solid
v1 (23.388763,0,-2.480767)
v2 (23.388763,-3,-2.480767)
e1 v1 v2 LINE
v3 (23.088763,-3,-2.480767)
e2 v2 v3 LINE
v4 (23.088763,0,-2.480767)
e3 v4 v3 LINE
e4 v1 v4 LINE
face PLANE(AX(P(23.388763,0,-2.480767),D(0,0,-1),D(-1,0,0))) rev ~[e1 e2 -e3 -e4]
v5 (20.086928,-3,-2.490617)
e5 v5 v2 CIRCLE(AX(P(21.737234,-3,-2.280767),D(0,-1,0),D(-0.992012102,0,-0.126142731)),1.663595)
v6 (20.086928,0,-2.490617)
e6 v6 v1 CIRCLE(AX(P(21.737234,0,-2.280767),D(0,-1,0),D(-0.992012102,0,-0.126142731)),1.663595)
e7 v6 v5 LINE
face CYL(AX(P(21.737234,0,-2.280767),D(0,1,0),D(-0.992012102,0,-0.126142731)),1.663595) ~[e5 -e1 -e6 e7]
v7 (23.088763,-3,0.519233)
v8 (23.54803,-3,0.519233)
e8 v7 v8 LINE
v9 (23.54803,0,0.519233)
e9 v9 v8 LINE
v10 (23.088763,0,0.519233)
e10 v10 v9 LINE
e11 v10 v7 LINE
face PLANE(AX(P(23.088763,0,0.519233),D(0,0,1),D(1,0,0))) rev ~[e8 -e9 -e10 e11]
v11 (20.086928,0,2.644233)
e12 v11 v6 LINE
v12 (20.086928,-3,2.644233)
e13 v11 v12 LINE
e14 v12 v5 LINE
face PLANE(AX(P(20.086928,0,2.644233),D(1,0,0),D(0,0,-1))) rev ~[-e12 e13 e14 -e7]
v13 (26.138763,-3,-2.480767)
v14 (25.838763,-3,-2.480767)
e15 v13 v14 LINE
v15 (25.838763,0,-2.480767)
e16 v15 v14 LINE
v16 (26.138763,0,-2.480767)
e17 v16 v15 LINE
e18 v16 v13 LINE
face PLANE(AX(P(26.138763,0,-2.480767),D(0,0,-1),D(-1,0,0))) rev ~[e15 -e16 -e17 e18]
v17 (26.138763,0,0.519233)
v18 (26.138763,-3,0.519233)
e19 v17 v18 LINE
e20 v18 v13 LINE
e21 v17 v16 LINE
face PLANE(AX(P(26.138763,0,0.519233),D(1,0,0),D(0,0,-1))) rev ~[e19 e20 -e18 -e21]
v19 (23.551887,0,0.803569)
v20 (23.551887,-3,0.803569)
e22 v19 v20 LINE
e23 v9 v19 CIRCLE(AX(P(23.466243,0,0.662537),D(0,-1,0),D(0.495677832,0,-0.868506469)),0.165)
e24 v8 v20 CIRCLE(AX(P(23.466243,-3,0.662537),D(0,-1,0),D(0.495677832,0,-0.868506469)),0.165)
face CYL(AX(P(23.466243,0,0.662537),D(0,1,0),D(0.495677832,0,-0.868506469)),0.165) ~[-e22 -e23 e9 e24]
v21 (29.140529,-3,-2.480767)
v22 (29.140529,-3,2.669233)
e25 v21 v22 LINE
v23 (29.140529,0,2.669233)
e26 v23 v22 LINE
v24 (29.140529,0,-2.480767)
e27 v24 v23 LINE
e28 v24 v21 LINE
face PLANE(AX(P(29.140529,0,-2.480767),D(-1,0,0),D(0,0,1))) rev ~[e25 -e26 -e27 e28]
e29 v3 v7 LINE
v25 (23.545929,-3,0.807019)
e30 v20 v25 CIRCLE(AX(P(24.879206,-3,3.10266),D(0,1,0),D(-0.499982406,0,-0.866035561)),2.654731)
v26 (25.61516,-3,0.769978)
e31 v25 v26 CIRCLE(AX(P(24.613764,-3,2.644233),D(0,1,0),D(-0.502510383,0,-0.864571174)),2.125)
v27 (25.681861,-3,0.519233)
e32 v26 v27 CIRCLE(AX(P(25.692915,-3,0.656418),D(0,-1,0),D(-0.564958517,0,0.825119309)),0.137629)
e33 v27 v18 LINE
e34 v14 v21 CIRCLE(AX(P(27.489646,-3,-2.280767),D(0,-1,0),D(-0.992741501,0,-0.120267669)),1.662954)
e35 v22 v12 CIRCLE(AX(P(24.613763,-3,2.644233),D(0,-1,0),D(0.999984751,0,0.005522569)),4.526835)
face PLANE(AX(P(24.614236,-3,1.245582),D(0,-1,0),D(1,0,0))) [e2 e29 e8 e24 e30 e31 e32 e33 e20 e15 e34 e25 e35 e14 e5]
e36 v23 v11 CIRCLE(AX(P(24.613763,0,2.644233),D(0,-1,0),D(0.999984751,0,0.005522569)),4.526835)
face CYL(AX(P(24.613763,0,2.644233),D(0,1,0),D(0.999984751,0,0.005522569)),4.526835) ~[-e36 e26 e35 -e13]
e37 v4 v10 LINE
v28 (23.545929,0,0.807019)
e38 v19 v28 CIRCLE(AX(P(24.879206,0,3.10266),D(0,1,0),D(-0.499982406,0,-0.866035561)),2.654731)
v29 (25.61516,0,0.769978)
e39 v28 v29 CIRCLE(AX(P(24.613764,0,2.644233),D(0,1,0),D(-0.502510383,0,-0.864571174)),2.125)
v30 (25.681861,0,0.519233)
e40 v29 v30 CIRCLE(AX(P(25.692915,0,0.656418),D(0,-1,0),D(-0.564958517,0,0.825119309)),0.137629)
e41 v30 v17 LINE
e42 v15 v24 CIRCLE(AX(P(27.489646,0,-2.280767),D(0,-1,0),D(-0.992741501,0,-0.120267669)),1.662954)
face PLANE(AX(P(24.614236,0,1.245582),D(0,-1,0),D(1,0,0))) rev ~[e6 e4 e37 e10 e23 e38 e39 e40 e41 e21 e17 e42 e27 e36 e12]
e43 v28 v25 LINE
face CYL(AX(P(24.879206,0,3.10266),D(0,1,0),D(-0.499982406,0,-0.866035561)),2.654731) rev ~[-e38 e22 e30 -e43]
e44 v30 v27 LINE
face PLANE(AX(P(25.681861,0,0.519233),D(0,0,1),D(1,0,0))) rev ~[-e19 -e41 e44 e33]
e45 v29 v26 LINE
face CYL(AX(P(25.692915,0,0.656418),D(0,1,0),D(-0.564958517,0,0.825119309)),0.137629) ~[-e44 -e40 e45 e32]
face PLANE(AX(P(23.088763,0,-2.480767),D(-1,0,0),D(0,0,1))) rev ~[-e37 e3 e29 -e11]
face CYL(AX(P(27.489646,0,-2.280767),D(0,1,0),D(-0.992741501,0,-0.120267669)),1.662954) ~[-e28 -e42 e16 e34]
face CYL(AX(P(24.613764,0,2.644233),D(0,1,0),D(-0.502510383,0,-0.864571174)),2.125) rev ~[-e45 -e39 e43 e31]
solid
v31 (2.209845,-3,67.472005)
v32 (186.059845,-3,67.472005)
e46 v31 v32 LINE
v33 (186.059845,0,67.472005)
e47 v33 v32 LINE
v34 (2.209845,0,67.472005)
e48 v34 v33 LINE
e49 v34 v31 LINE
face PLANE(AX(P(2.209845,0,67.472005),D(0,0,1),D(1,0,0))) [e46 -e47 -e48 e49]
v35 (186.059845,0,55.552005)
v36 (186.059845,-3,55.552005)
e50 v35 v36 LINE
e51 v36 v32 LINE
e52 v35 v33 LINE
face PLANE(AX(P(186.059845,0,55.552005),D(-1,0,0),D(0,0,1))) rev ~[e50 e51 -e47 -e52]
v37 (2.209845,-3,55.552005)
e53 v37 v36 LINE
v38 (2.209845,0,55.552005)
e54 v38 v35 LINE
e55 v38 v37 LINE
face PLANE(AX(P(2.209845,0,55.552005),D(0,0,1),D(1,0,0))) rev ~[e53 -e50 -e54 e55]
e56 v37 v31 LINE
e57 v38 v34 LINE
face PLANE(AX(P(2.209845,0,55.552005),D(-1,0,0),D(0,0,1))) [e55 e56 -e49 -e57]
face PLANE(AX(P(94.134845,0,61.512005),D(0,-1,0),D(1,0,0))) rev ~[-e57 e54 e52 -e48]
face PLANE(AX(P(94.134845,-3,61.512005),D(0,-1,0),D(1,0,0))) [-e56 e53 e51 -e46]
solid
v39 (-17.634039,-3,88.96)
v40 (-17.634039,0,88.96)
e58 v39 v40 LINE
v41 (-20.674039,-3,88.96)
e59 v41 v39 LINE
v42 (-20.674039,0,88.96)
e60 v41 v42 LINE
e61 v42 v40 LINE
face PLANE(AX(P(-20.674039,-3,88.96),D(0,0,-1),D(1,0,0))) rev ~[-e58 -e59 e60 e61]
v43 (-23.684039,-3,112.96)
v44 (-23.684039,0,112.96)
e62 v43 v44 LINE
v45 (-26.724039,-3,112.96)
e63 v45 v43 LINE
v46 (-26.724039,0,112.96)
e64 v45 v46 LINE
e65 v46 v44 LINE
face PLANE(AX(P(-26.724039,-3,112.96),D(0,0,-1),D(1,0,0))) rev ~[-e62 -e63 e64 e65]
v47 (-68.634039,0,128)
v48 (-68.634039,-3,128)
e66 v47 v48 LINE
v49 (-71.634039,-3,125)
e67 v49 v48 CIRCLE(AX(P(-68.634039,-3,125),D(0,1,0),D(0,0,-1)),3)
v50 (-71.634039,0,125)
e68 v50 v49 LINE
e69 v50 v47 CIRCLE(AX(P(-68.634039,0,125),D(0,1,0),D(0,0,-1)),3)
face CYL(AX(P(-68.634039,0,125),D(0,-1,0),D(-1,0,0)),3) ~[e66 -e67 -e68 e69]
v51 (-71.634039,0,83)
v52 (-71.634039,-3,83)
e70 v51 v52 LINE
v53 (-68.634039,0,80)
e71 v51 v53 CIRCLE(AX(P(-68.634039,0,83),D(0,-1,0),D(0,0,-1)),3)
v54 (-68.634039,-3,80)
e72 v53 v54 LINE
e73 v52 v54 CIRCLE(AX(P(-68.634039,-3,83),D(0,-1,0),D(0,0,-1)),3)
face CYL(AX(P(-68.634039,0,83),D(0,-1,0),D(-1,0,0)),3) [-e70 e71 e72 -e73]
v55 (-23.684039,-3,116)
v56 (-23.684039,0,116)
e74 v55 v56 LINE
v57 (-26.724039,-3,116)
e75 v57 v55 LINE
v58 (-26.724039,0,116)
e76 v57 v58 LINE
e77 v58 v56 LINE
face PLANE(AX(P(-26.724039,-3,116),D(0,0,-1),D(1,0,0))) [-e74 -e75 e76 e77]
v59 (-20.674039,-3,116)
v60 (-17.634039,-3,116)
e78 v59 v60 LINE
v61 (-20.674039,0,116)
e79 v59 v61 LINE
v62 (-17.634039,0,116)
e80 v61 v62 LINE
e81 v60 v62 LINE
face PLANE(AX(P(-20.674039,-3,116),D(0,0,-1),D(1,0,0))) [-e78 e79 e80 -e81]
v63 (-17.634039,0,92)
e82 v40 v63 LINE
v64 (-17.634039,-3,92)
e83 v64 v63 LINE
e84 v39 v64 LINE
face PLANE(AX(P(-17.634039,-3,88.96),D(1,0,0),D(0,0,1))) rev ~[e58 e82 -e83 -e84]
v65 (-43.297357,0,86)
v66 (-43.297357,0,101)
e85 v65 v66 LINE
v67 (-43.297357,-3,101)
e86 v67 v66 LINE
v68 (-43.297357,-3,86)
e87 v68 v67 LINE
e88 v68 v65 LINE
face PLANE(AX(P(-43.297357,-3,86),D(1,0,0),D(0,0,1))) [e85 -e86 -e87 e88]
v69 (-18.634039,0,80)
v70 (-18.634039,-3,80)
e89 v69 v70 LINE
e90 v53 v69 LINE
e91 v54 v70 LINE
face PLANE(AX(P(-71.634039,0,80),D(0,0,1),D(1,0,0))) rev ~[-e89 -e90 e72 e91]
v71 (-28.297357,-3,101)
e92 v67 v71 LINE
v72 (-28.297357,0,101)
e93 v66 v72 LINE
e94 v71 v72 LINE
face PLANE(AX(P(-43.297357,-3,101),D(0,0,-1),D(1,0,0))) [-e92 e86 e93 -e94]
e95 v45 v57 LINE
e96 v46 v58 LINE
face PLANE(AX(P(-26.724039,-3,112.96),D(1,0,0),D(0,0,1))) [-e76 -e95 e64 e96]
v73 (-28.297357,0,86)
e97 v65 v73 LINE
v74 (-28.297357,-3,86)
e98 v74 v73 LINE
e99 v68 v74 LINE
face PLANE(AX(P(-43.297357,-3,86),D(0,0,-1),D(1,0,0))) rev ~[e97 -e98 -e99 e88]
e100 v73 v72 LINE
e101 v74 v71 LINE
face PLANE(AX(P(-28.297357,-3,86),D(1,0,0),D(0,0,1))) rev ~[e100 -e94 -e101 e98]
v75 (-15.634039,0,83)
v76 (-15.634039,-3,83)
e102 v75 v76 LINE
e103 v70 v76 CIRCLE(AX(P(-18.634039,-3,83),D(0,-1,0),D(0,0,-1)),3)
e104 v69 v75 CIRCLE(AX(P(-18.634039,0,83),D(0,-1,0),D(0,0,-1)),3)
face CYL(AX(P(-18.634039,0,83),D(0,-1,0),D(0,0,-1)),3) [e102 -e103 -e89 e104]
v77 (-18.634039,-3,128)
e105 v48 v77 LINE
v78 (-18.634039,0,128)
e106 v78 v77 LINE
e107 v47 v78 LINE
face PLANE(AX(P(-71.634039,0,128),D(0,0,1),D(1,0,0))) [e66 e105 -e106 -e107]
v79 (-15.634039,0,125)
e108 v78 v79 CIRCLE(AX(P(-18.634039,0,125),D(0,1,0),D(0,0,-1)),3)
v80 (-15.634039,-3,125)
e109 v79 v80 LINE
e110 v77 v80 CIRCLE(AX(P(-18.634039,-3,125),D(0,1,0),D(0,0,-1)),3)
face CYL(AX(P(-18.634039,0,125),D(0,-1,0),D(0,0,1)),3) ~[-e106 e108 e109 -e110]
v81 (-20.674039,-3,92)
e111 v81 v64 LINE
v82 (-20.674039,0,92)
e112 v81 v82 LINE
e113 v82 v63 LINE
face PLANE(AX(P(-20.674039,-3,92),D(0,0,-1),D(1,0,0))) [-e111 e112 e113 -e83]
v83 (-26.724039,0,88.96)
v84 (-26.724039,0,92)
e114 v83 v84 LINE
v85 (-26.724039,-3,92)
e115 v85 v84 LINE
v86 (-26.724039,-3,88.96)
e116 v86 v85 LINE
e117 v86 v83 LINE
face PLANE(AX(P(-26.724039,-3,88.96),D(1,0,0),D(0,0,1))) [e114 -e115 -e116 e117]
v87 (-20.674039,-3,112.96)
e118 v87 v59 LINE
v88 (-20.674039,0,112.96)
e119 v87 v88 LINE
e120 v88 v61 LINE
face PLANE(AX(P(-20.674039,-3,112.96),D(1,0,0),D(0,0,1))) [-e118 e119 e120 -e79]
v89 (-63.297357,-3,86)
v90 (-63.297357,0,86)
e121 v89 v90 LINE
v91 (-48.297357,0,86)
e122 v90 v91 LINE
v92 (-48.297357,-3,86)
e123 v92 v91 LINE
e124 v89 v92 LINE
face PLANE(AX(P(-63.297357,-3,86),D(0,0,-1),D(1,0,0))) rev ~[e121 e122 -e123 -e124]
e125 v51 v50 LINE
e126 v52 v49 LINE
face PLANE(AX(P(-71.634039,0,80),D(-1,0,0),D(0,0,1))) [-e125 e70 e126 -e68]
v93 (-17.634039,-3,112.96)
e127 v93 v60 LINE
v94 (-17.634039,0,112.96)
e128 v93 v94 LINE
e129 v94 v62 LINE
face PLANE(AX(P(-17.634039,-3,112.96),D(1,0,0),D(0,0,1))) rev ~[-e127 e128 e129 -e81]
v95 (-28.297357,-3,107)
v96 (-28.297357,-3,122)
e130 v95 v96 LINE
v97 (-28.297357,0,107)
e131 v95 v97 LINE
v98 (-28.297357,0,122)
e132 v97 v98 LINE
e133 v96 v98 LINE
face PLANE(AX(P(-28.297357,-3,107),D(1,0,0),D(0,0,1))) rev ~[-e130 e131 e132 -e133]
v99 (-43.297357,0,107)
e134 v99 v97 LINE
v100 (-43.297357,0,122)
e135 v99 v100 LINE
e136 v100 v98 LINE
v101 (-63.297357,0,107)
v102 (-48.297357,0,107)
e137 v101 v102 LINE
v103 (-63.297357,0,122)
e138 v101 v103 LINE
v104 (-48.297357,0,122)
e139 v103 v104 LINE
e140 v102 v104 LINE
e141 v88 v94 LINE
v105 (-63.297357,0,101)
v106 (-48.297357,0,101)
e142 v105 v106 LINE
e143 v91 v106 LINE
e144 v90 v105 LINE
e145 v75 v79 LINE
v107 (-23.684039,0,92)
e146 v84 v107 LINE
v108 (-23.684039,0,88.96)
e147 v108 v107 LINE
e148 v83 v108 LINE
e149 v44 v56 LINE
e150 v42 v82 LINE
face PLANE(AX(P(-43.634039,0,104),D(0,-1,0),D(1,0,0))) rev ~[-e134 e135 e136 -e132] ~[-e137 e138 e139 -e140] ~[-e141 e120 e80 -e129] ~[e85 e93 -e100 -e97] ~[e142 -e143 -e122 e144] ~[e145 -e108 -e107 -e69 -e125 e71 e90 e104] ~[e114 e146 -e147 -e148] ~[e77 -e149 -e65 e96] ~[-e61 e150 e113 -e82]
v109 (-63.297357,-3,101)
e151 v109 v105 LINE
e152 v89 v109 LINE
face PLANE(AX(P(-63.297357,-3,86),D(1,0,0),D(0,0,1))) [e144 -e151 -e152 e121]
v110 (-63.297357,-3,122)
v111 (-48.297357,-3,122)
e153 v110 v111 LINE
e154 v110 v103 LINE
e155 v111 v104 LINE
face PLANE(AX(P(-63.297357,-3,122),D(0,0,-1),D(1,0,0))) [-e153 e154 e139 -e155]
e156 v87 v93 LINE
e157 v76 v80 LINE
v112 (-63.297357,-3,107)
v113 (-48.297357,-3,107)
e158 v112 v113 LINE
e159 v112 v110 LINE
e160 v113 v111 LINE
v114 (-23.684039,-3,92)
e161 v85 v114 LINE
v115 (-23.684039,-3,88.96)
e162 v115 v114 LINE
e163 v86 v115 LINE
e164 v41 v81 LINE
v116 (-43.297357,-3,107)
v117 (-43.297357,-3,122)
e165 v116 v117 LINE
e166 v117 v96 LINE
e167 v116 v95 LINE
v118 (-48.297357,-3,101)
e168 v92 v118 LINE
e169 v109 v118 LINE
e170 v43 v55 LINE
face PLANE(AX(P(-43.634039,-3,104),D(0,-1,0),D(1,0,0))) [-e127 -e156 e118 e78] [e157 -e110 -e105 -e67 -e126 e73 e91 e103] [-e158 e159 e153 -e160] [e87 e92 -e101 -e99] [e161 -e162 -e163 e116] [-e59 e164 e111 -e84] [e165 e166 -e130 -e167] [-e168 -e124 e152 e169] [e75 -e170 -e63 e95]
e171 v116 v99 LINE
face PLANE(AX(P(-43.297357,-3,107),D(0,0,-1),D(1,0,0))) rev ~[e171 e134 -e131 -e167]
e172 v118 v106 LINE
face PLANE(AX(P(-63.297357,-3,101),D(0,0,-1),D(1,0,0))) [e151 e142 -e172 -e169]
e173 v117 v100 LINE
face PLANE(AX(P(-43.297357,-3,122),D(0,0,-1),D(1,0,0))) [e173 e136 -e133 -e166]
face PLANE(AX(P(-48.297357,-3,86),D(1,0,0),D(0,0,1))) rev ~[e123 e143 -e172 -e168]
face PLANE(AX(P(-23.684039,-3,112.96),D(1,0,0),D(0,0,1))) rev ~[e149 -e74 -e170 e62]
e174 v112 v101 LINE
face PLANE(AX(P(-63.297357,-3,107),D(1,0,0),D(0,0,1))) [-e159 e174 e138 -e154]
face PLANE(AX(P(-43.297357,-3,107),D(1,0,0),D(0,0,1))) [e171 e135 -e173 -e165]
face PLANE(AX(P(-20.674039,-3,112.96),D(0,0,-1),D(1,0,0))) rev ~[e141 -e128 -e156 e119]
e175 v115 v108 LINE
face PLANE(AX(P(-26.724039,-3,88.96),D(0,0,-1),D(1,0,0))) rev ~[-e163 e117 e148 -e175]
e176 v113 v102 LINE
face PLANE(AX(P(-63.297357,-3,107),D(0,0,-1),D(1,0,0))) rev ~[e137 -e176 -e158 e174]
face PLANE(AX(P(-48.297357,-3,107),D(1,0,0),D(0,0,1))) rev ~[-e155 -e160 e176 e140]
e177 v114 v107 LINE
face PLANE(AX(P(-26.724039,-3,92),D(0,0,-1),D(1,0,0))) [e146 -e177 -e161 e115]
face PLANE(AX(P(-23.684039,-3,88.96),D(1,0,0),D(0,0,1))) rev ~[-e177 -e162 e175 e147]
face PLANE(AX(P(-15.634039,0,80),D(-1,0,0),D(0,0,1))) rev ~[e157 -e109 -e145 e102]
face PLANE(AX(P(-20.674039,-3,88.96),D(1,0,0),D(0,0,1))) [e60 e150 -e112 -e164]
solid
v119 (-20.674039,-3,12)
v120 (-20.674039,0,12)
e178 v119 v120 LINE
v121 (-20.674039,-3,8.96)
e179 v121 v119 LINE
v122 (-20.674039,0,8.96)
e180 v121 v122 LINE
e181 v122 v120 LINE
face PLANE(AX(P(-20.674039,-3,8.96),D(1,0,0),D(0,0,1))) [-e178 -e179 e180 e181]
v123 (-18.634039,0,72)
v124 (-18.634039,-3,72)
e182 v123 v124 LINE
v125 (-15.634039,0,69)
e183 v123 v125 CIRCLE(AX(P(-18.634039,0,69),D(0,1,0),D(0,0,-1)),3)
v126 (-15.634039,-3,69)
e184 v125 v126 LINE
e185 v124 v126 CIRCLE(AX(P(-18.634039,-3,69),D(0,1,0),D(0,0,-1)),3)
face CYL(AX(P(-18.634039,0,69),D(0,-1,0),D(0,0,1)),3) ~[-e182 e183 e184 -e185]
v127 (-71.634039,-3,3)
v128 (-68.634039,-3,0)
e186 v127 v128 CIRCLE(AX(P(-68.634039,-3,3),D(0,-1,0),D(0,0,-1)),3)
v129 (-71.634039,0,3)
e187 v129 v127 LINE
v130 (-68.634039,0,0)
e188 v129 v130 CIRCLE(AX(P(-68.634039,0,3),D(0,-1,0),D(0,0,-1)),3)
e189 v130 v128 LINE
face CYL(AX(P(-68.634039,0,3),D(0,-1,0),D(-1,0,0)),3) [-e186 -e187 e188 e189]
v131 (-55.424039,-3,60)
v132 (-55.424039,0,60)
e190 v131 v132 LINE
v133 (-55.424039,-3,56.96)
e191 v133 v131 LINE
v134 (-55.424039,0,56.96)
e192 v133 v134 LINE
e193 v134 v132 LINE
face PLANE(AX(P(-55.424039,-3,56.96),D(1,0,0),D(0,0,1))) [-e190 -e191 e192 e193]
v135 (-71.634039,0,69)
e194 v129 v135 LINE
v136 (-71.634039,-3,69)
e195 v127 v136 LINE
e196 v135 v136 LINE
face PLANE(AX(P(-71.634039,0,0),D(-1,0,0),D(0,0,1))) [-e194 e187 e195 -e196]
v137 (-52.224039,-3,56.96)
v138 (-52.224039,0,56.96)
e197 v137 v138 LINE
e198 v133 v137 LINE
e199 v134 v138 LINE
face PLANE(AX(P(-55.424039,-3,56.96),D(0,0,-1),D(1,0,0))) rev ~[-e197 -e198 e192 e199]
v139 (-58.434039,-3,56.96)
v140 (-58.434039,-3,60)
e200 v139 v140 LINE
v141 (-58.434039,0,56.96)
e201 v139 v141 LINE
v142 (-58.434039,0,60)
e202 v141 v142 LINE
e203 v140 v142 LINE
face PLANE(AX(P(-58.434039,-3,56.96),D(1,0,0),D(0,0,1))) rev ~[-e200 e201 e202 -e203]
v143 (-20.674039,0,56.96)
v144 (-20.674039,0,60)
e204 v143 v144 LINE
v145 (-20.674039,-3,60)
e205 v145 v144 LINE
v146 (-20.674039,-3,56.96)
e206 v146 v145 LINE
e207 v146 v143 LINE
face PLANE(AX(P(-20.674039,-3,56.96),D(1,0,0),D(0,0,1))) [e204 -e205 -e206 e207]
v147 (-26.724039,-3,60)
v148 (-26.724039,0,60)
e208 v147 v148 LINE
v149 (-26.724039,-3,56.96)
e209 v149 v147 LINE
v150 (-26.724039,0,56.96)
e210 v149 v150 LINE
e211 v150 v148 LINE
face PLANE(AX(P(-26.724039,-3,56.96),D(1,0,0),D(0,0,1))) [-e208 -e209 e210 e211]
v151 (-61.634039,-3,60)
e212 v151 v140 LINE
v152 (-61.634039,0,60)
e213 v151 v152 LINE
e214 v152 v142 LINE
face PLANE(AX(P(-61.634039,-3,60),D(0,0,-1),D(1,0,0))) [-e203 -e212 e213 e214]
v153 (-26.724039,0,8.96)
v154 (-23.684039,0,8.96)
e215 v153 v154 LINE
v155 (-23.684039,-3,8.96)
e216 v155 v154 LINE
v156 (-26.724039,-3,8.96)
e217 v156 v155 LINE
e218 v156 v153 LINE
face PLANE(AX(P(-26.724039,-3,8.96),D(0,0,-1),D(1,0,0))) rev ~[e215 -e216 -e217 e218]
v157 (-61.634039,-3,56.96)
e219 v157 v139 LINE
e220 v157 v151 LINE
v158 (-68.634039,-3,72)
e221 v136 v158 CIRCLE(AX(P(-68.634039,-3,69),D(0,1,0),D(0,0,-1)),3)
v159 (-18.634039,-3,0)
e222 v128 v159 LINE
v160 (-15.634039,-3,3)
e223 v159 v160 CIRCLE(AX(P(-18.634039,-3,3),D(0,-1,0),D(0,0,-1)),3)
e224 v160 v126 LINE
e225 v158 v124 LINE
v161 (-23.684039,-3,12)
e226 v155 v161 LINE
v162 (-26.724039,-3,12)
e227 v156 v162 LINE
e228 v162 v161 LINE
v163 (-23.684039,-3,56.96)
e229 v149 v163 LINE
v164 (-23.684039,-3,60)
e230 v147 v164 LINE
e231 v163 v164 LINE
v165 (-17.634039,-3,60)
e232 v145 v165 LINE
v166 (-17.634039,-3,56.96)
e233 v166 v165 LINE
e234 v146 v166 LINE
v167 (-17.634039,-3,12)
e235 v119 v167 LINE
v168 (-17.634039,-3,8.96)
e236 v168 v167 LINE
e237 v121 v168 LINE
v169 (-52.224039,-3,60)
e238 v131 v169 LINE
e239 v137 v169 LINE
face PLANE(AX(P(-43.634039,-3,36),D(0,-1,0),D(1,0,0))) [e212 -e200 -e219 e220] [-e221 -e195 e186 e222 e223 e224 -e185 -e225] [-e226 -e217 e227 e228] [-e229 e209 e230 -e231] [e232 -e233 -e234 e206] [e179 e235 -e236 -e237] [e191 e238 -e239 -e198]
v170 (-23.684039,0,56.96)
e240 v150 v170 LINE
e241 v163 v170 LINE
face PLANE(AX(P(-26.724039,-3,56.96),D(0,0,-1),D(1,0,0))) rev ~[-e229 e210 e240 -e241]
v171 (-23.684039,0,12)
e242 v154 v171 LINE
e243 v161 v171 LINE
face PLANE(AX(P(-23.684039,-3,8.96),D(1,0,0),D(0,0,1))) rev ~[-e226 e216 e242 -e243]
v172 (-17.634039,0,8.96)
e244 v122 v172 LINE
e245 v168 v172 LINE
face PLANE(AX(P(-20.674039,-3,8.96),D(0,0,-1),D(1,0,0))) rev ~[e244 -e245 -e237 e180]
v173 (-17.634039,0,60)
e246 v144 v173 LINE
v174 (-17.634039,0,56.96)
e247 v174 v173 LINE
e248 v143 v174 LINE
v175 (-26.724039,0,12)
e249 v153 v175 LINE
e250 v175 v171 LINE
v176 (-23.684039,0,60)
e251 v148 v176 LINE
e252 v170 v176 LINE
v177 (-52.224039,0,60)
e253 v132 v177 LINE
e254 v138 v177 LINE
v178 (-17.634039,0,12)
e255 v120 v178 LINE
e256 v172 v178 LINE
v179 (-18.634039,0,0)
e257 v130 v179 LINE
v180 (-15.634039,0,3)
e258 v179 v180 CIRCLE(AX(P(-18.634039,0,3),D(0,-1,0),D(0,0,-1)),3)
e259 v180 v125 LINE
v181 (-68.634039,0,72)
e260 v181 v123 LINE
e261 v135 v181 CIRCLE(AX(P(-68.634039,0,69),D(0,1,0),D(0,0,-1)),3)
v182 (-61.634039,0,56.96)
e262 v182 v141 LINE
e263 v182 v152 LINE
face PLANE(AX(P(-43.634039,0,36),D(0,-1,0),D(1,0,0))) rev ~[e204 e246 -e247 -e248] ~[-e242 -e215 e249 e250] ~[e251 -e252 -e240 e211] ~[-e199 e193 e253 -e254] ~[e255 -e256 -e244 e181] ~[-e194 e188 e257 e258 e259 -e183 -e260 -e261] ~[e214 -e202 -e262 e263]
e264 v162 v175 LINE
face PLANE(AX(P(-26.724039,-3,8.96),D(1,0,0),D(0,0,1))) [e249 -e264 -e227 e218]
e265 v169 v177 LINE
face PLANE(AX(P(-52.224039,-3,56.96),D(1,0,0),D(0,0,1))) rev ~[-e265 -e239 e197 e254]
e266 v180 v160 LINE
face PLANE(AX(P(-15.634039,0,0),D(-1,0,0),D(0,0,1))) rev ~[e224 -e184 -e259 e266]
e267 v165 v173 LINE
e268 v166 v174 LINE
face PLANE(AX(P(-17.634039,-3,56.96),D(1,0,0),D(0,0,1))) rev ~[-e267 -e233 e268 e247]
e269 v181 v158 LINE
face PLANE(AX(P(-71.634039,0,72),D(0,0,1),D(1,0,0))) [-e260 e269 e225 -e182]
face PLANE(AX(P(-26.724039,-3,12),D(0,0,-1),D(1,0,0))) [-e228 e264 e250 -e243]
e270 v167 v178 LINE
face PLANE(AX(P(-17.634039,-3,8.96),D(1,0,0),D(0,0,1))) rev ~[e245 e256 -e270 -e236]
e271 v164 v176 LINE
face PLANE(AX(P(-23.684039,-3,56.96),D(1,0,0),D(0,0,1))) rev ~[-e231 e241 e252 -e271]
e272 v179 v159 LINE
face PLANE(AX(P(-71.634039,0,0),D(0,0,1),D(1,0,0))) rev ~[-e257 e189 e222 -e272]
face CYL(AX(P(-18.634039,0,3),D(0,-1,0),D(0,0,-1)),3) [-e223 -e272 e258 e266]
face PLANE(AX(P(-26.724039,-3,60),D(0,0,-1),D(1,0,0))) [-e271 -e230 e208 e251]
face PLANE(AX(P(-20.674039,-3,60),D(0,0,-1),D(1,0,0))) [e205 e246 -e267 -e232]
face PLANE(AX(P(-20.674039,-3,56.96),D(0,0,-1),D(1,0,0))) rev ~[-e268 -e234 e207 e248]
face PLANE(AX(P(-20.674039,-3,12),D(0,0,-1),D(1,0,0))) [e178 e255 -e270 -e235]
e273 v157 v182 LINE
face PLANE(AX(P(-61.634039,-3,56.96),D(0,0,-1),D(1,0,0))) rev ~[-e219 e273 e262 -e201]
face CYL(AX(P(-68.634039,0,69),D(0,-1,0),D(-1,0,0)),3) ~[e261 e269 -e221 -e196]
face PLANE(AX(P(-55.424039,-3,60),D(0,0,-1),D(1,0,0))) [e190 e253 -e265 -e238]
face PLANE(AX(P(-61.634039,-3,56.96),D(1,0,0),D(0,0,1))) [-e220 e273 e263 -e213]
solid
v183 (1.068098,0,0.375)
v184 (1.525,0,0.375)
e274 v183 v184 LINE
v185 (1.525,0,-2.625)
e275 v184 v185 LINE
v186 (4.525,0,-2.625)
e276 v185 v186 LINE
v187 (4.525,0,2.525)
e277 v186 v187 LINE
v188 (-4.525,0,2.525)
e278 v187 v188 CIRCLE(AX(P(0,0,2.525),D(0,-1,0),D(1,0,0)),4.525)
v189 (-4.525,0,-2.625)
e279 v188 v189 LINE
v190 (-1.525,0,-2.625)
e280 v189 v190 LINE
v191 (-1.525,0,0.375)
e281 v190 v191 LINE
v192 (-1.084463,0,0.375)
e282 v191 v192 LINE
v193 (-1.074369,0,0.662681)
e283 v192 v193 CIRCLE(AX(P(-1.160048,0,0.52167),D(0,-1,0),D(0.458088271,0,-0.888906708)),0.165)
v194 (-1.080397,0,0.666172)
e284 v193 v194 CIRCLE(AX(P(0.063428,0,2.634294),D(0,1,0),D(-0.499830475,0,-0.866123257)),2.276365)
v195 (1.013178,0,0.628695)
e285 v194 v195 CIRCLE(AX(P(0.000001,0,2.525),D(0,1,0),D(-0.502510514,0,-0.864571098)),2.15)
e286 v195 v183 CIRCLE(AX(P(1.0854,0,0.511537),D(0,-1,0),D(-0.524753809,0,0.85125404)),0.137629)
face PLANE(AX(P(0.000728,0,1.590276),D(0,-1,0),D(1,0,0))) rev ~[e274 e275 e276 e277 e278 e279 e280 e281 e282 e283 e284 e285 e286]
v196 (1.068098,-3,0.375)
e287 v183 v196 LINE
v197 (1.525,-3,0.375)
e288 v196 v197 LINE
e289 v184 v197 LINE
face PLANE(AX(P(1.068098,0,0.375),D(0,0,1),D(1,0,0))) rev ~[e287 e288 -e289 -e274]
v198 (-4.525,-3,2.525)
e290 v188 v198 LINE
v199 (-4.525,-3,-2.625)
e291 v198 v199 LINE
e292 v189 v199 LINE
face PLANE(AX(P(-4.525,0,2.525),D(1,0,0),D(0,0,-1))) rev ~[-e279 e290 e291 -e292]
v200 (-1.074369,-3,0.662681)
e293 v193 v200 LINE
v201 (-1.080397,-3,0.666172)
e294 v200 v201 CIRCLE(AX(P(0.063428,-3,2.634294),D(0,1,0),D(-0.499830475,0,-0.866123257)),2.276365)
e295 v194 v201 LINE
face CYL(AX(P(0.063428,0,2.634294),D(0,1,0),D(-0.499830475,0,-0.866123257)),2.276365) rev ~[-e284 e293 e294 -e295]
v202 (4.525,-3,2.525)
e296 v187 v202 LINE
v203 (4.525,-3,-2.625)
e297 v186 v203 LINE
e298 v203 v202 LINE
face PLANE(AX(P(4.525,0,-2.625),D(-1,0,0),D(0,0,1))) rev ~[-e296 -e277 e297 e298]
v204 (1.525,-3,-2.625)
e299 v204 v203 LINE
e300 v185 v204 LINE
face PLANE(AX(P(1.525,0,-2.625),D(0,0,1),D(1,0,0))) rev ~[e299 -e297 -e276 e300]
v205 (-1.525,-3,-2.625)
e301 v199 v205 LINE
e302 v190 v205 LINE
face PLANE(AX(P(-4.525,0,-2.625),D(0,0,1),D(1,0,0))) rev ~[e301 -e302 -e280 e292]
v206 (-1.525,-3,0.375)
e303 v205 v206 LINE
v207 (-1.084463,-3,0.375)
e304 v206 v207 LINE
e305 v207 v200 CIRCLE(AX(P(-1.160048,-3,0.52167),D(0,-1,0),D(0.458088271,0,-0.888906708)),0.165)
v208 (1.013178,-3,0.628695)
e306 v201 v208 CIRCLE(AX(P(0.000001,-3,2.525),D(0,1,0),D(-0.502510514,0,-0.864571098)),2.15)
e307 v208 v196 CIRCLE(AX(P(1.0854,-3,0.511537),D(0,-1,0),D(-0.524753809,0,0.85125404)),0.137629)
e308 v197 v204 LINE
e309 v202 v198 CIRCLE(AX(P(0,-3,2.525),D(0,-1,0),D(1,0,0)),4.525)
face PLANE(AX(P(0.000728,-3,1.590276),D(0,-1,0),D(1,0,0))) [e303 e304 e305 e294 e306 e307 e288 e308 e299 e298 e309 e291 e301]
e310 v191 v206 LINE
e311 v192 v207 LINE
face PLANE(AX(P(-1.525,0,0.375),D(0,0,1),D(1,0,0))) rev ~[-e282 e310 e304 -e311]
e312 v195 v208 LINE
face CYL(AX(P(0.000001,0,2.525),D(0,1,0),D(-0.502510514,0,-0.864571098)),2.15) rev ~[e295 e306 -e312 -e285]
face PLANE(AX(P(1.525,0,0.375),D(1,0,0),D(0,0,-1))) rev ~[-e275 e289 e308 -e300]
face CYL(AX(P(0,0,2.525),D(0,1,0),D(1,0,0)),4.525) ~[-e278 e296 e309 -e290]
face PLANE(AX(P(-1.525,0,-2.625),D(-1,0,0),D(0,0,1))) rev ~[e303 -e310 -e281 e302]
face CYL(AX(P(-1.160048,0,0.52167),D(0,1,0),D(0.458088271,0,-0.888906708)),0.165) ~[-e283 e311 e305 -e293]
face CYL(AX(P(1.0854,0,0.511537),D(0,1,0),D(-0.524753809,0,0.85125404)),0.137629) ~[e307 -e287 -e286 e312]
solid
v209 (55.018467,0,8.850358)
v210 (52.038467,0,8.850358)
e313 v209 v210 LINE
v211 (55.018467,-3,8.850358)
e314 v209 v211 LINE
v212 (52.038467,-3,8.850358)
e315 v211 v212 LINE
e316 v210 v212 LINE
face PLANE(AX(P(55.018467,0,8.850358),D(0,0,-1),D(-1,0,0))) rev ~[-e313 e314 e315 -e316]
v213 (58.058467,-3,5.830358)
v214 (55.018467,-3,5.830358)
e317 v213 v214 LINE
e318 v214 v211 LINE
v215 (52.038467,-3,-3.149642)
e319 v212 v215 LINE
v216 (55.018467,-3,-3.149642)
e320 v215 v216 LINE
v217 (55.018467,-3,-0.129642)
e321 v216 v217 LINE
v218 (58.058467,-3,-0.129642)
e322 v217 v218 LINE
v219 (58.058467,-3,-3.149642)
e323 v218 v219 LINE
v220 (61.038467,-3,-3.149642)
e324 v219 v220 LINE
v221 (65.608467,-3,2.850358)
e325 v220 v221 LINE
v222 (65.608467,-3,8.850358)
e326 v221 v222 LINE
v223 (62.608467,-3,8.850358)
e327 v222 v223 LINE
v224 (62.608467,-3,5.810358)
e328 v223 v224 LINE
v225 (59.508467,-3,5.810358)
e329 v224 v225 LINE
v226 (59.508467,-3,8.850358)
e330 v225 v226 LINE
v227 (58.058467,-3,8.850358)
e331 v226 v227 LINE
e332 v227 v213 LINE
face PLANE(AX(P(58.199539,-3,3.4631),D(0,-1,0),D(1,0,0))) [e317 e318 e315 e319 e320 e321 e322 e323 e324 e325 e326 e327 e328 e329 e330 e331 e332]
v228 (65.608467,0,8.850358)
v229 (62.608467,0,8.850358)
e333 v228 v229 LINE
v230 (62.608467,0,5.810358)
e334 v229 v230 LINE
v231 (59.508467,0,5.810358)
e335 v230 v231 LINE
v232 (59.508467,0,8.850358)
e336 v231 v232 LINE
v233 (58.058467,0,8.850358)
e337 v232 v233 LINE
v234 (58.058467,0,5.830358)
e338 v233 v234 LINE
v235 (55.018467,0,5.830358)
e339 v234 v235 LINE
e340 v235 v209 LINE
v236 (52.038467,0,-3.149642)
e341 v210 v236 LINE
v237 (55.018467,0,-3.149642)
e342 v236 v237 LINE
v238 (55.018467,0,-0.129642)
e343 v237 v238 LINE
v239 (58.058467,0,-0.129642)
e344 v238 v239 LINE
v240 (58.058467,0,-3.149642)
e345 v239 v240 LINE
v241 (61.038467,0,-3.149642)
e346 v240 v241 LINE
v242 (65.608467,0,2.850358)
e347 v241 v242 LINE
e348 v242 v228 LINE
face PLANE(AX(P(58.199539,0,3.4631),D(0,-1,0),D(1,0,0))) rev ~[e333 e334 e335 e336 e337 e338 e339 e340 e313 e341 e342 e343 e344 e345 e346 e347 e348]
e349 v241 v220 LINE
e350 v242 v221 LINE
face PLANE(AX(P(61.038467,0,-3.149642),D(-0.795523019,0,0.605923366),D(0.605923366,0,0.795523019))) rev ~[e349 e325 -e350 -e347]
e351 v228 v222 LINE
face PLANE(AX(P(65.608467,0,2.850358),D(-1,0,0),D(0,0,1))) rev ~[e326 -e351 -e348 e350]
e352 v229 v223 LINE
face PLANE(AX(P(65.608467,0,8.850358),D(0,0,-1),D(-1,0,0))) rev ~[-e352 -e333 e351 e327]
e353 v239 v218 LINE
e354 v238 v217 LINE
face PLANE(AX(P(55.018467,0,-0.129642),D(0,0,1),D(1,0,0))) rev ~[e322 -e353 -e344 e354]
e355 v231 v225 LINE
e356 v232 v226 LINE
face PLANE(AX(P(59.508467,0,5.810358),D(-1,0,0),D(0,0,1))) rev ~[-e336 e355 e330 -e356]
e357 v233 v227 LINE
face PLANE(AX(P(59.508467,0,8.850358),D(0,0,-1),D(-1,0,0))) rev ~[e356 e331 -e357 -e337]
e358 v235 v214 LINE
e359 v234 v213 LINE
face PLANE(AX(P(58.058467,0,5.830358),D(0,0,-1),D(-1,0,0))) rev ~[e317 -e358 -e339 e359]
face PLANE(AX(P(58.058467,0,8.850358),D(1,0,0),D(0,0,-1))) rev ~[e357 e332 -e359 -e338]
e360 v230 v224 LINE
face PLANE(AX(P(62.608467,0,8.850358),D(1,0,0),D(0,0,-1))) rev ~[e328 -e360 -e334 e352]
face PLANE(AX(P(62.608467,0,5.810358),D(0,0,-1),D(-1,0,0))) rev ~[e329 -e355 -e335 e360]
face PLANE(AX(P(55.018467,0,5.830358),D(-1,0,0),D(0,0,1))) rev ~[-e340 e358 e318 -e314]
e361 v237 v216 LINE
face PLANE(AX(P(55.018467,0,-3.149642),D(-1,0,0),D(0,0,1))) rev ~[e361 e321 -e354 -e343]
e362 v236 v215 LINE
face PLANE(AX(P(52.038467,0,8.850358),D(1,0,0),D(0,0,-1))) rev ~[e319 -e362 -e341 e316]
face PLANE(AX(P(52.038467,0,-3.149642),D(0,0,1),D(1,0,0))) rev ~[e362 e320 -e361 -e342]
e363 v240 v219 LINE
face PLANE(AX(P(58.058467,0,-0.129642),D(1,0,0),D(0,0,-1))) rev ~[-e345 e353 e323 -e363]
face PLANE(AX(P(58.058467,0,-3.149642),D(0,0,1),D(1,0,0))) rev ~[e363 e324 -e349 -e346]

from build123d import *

# Parameters (mm, degrees)
F1_DEPTH  = 3
F2_W      = 56
F2_H      = 48
F2_H_2    = 72
F3_DEPTH  = 3
F4_W      = 3.04
F4_H      = 3.04
F5_DEPTH  = 3.001
F4_W_2    = 3.2
F6_DEPTH  = 25
F7_W      = 15
F7_H      = 15
F8_DEPTH  = 3.001
F9_R      = 3
F10_W     = 183.85
F10_H     = 11.92
F11_DEPTH = 3


with BuildPart() as f1:
    # F0 (on Front) → F1 (new body)
    with BuildSketch(Plane.XZ):
        with BuildLine():
            ThreePointArc((-1.080397, 0.666172), (0.03848, 4.674656), (1.013178, 0.628695))
            ThreePointArc((1.013178, 0.628695), (0.950886, 0.482418), (1.068098, 0.375))
            Line((1.068098, 0.375), (1.1027, 0.375))
            Line((1.1027, 0.375), (1.525, 0.375))
            Line((1.525, 0.375), (1.525, -2.625))
            Line((1.525, -2.625), (4.525, -2.625))
            Line((4.525, -2.625), (4.525, 2.525))
            ThreePointArc((4.525, 2.525), (0, 7.05), (-4.525, 2.525))
            Line((-4.525, 2.525), (-4.525, -2.625))
            Line((-4.525, -2.625), (-1.525, -2.625))
            Line((-1.525, -2.625), (-1.525, 0.375))
            Line((-1.525, 0.375), (-1.084463, 0.375))
            ThreePointArc((-1.084463, 0.375), (-0.995149, 0.515884), (-1.074369, 0.662681))
            ThreePointArc((-1.074369, 0.662681), (-1.077384, 0.664424), (-1.080397, 0.666172))
        make_face()
        with BuildLine():
            ThreePointArc((23.545929, 0.807019), (24.651796, 4.768893), (25.61516, 0.769978))
            ThreePointArc((25.61516, 0.769978), (25.559911, 0.621037), (25.681861, 0.519233))
            Line((25.681861, 0.519233), (25.703969, 0.519233))
            Line((25.703969, 0.519233), (26.138763, 0.519233))
            Line((26.138763, 0.519233), (26.138763, -2.480767))
            Line((26.138763, -2.480767), (25.838763, -2.480767))
            ThreePointArc((25.838763, -2.480767), (27.489646, -3.943721), (29.140529, -2.480767))
            Line((29.140529, -2.480767), (29.140529, 2.669233))
            ThreePointArc((29.140529, 2.669233), (24.601263, 7.171051), (20.086928, 2.644233))
            Line((20.086928, 2.644233), (20.086928, -2.490617))
            ThreePointArc((20.086928, -2.490617), (21.742197, -3.944354), (23.388763, -2.480767))
            Line((23.388763, -2.480767), (23.088763, -2.480767))
            Line((23.088763, -2.480767), (23.088763, 0.519233))
            Line((23.088763, 0.519233), (23.54803, 0.519233))
            ThreePointArc((23.54803, 0.519233), (23.631228, 0.660299), (23.551887, 0.803569))
            ThreePointArc((23.551887, 0.803569), (23.548907, 0.805292), (23.545929, 0.807019))
        make_face()
        Polygon((58.058467, -3.149642), (61.038467, -3.149642), (65.608467, 2.850358), (65.608467, 8.850358), (62.608467, 8.850358), (62.608467, 5.810358), (59.508467, 5.810358), (59.508467, 8.850358), (58.058467, 8.850358), (58.058467, 5.830358), (55.018467, 5.830358), (55.018467, 8.850358), (52.038467, 8.850358), (52.038467, -3.149642), (55.018467, -3.149642), (55.018467, -0.129642), (58.058467, -0.129642), align=None)
    extrude(amount=F1_DEPTH)


with BuildPart() as f3:
    # F2 (on Front) → F3 (new body)
    with BuildSketch(Plane.XZ):
        with Locations((-43.634039, 104)):
            Rectangle(F2_W, F2_H)
        with Locations((-43.634039, 36)):
            Rectangle(F2_W, F2_H_2)
    extrude(amount=F3_DEPTH)

    # F4 (on face) → F5 (cut, through all)
    with BuildSketch(Plane.XZ.offset(3)):
        with Locations((-25.204039, 114.48)):
            Rectangle(F4_W, F4_H)
        with Locations((-19.154039, 114.48)):
            Rectangle(F4_W, F4_H)
        with Locations((-25.204039, 90.48)):
            Rectangle(F4_W, F4_H)
        with Locations((-19.154039, 90.48)):
            Rectangle(F4_W, F4_H)
        with Locations((-25.204039, 58.48)):
            Rectangle(F4_W, F4_H)
        with Locations((-19.154039, 58.48)):
            Rectangle(F4_W, F4_H)
        with Locations((-25.204039, 10.48)):
            Rectangle(F4_W, F4_H)
        with Locations((-19.154039, 10.48)):
            Rectangle(F4_W, F4_H)
    extrude(amount=-F5_DEPTH, mode=Mode.SUBTRACT)

    # F4 (on face) → F6 (cut)
    with BuildSketch(Plane.XZ.offset(3)):
        with Locations((-25.204039, 10.48)):
            Rectangle(F4_W, F4_H)
        with Locations((-19.154039, 10.48)):
            Rectangle(F4_W, F4_H)
        with Locations((-25.204039, 58.48)):
            Rectangle(F4_W, F4_H)
        with Locations((-19.154039, 58.48)):
            Rectangle(F4_W, F4_H)
        with Locations((-25.204039, 90.48)):
            Rectangle(F4_W, F4_H)
        with Locations((-19.154039, 90.48)):
            Rectangle(F4_W, F4_H)
        with Locations((-25.204039, 114.48)):
            Rectangle(F4_W, F4_H)
        with Locations((-19.154039, 114.48)):
            Rectangle(F4_W, F4_H)
        with Locations((-60.034039, 58.48)):
            Rectangle(F4_W_2, F4_H)
        with Locations((-53.824039, 58.48)):
            Rectangle(F4_W_2, F4_H)
    extrude(amount=-F6_DEPTH, mode=Mode.SUBTRACT)

    # F7 (on face) → F8 (cut, through all)
    with BuildSketch(Plane.XZ.offset(3)):
        with Locations((-55.797357, 114.5)):
            Rectangle(F7_W, F7_H)
        with Locations((-35.797357, 114.5)):
            Rectangle(F7_W, F7_H)
        with Locations((-35.797357, 93.5)):
            Rectangle(F7_W, F7_H)
        with Locations((-55.797357, 93.5)):
            Rectangle(F7_W, F7_H)
    extrude(amount=-F8_DEPTH, mode=Mode.SUBTRACT)

    # F9
    f9_edges = [f3.edges().sort_by_distance(p)[0] for p in [
        (-71.634039, -1.5, 128),
        (-71.634039, -1.5, 72),
        (-15.634039, -1.5, 72),
        (-71.634039, -1.5, 80),
        (-15.634039, -1.5, 80),
        (-15.634039, -1.5, 128),
        (-71.634039, -1.5, 0),
        (-15.634039, -1.5, 0),
    ]]
    fillet(f9_edges, radius=F9_R)


with BuildPart() as f11:
    # F10 (on Front) → F11 (new body)
    with BuildSketch(Plane.XZ):
        with Locations((94.134845, 61.512005)):
            Rectangle(F10_W, F10_H)
    extrude(amount=F11_DEPTH)


solid = Compound([f1.part, f3.part, f11.part])
